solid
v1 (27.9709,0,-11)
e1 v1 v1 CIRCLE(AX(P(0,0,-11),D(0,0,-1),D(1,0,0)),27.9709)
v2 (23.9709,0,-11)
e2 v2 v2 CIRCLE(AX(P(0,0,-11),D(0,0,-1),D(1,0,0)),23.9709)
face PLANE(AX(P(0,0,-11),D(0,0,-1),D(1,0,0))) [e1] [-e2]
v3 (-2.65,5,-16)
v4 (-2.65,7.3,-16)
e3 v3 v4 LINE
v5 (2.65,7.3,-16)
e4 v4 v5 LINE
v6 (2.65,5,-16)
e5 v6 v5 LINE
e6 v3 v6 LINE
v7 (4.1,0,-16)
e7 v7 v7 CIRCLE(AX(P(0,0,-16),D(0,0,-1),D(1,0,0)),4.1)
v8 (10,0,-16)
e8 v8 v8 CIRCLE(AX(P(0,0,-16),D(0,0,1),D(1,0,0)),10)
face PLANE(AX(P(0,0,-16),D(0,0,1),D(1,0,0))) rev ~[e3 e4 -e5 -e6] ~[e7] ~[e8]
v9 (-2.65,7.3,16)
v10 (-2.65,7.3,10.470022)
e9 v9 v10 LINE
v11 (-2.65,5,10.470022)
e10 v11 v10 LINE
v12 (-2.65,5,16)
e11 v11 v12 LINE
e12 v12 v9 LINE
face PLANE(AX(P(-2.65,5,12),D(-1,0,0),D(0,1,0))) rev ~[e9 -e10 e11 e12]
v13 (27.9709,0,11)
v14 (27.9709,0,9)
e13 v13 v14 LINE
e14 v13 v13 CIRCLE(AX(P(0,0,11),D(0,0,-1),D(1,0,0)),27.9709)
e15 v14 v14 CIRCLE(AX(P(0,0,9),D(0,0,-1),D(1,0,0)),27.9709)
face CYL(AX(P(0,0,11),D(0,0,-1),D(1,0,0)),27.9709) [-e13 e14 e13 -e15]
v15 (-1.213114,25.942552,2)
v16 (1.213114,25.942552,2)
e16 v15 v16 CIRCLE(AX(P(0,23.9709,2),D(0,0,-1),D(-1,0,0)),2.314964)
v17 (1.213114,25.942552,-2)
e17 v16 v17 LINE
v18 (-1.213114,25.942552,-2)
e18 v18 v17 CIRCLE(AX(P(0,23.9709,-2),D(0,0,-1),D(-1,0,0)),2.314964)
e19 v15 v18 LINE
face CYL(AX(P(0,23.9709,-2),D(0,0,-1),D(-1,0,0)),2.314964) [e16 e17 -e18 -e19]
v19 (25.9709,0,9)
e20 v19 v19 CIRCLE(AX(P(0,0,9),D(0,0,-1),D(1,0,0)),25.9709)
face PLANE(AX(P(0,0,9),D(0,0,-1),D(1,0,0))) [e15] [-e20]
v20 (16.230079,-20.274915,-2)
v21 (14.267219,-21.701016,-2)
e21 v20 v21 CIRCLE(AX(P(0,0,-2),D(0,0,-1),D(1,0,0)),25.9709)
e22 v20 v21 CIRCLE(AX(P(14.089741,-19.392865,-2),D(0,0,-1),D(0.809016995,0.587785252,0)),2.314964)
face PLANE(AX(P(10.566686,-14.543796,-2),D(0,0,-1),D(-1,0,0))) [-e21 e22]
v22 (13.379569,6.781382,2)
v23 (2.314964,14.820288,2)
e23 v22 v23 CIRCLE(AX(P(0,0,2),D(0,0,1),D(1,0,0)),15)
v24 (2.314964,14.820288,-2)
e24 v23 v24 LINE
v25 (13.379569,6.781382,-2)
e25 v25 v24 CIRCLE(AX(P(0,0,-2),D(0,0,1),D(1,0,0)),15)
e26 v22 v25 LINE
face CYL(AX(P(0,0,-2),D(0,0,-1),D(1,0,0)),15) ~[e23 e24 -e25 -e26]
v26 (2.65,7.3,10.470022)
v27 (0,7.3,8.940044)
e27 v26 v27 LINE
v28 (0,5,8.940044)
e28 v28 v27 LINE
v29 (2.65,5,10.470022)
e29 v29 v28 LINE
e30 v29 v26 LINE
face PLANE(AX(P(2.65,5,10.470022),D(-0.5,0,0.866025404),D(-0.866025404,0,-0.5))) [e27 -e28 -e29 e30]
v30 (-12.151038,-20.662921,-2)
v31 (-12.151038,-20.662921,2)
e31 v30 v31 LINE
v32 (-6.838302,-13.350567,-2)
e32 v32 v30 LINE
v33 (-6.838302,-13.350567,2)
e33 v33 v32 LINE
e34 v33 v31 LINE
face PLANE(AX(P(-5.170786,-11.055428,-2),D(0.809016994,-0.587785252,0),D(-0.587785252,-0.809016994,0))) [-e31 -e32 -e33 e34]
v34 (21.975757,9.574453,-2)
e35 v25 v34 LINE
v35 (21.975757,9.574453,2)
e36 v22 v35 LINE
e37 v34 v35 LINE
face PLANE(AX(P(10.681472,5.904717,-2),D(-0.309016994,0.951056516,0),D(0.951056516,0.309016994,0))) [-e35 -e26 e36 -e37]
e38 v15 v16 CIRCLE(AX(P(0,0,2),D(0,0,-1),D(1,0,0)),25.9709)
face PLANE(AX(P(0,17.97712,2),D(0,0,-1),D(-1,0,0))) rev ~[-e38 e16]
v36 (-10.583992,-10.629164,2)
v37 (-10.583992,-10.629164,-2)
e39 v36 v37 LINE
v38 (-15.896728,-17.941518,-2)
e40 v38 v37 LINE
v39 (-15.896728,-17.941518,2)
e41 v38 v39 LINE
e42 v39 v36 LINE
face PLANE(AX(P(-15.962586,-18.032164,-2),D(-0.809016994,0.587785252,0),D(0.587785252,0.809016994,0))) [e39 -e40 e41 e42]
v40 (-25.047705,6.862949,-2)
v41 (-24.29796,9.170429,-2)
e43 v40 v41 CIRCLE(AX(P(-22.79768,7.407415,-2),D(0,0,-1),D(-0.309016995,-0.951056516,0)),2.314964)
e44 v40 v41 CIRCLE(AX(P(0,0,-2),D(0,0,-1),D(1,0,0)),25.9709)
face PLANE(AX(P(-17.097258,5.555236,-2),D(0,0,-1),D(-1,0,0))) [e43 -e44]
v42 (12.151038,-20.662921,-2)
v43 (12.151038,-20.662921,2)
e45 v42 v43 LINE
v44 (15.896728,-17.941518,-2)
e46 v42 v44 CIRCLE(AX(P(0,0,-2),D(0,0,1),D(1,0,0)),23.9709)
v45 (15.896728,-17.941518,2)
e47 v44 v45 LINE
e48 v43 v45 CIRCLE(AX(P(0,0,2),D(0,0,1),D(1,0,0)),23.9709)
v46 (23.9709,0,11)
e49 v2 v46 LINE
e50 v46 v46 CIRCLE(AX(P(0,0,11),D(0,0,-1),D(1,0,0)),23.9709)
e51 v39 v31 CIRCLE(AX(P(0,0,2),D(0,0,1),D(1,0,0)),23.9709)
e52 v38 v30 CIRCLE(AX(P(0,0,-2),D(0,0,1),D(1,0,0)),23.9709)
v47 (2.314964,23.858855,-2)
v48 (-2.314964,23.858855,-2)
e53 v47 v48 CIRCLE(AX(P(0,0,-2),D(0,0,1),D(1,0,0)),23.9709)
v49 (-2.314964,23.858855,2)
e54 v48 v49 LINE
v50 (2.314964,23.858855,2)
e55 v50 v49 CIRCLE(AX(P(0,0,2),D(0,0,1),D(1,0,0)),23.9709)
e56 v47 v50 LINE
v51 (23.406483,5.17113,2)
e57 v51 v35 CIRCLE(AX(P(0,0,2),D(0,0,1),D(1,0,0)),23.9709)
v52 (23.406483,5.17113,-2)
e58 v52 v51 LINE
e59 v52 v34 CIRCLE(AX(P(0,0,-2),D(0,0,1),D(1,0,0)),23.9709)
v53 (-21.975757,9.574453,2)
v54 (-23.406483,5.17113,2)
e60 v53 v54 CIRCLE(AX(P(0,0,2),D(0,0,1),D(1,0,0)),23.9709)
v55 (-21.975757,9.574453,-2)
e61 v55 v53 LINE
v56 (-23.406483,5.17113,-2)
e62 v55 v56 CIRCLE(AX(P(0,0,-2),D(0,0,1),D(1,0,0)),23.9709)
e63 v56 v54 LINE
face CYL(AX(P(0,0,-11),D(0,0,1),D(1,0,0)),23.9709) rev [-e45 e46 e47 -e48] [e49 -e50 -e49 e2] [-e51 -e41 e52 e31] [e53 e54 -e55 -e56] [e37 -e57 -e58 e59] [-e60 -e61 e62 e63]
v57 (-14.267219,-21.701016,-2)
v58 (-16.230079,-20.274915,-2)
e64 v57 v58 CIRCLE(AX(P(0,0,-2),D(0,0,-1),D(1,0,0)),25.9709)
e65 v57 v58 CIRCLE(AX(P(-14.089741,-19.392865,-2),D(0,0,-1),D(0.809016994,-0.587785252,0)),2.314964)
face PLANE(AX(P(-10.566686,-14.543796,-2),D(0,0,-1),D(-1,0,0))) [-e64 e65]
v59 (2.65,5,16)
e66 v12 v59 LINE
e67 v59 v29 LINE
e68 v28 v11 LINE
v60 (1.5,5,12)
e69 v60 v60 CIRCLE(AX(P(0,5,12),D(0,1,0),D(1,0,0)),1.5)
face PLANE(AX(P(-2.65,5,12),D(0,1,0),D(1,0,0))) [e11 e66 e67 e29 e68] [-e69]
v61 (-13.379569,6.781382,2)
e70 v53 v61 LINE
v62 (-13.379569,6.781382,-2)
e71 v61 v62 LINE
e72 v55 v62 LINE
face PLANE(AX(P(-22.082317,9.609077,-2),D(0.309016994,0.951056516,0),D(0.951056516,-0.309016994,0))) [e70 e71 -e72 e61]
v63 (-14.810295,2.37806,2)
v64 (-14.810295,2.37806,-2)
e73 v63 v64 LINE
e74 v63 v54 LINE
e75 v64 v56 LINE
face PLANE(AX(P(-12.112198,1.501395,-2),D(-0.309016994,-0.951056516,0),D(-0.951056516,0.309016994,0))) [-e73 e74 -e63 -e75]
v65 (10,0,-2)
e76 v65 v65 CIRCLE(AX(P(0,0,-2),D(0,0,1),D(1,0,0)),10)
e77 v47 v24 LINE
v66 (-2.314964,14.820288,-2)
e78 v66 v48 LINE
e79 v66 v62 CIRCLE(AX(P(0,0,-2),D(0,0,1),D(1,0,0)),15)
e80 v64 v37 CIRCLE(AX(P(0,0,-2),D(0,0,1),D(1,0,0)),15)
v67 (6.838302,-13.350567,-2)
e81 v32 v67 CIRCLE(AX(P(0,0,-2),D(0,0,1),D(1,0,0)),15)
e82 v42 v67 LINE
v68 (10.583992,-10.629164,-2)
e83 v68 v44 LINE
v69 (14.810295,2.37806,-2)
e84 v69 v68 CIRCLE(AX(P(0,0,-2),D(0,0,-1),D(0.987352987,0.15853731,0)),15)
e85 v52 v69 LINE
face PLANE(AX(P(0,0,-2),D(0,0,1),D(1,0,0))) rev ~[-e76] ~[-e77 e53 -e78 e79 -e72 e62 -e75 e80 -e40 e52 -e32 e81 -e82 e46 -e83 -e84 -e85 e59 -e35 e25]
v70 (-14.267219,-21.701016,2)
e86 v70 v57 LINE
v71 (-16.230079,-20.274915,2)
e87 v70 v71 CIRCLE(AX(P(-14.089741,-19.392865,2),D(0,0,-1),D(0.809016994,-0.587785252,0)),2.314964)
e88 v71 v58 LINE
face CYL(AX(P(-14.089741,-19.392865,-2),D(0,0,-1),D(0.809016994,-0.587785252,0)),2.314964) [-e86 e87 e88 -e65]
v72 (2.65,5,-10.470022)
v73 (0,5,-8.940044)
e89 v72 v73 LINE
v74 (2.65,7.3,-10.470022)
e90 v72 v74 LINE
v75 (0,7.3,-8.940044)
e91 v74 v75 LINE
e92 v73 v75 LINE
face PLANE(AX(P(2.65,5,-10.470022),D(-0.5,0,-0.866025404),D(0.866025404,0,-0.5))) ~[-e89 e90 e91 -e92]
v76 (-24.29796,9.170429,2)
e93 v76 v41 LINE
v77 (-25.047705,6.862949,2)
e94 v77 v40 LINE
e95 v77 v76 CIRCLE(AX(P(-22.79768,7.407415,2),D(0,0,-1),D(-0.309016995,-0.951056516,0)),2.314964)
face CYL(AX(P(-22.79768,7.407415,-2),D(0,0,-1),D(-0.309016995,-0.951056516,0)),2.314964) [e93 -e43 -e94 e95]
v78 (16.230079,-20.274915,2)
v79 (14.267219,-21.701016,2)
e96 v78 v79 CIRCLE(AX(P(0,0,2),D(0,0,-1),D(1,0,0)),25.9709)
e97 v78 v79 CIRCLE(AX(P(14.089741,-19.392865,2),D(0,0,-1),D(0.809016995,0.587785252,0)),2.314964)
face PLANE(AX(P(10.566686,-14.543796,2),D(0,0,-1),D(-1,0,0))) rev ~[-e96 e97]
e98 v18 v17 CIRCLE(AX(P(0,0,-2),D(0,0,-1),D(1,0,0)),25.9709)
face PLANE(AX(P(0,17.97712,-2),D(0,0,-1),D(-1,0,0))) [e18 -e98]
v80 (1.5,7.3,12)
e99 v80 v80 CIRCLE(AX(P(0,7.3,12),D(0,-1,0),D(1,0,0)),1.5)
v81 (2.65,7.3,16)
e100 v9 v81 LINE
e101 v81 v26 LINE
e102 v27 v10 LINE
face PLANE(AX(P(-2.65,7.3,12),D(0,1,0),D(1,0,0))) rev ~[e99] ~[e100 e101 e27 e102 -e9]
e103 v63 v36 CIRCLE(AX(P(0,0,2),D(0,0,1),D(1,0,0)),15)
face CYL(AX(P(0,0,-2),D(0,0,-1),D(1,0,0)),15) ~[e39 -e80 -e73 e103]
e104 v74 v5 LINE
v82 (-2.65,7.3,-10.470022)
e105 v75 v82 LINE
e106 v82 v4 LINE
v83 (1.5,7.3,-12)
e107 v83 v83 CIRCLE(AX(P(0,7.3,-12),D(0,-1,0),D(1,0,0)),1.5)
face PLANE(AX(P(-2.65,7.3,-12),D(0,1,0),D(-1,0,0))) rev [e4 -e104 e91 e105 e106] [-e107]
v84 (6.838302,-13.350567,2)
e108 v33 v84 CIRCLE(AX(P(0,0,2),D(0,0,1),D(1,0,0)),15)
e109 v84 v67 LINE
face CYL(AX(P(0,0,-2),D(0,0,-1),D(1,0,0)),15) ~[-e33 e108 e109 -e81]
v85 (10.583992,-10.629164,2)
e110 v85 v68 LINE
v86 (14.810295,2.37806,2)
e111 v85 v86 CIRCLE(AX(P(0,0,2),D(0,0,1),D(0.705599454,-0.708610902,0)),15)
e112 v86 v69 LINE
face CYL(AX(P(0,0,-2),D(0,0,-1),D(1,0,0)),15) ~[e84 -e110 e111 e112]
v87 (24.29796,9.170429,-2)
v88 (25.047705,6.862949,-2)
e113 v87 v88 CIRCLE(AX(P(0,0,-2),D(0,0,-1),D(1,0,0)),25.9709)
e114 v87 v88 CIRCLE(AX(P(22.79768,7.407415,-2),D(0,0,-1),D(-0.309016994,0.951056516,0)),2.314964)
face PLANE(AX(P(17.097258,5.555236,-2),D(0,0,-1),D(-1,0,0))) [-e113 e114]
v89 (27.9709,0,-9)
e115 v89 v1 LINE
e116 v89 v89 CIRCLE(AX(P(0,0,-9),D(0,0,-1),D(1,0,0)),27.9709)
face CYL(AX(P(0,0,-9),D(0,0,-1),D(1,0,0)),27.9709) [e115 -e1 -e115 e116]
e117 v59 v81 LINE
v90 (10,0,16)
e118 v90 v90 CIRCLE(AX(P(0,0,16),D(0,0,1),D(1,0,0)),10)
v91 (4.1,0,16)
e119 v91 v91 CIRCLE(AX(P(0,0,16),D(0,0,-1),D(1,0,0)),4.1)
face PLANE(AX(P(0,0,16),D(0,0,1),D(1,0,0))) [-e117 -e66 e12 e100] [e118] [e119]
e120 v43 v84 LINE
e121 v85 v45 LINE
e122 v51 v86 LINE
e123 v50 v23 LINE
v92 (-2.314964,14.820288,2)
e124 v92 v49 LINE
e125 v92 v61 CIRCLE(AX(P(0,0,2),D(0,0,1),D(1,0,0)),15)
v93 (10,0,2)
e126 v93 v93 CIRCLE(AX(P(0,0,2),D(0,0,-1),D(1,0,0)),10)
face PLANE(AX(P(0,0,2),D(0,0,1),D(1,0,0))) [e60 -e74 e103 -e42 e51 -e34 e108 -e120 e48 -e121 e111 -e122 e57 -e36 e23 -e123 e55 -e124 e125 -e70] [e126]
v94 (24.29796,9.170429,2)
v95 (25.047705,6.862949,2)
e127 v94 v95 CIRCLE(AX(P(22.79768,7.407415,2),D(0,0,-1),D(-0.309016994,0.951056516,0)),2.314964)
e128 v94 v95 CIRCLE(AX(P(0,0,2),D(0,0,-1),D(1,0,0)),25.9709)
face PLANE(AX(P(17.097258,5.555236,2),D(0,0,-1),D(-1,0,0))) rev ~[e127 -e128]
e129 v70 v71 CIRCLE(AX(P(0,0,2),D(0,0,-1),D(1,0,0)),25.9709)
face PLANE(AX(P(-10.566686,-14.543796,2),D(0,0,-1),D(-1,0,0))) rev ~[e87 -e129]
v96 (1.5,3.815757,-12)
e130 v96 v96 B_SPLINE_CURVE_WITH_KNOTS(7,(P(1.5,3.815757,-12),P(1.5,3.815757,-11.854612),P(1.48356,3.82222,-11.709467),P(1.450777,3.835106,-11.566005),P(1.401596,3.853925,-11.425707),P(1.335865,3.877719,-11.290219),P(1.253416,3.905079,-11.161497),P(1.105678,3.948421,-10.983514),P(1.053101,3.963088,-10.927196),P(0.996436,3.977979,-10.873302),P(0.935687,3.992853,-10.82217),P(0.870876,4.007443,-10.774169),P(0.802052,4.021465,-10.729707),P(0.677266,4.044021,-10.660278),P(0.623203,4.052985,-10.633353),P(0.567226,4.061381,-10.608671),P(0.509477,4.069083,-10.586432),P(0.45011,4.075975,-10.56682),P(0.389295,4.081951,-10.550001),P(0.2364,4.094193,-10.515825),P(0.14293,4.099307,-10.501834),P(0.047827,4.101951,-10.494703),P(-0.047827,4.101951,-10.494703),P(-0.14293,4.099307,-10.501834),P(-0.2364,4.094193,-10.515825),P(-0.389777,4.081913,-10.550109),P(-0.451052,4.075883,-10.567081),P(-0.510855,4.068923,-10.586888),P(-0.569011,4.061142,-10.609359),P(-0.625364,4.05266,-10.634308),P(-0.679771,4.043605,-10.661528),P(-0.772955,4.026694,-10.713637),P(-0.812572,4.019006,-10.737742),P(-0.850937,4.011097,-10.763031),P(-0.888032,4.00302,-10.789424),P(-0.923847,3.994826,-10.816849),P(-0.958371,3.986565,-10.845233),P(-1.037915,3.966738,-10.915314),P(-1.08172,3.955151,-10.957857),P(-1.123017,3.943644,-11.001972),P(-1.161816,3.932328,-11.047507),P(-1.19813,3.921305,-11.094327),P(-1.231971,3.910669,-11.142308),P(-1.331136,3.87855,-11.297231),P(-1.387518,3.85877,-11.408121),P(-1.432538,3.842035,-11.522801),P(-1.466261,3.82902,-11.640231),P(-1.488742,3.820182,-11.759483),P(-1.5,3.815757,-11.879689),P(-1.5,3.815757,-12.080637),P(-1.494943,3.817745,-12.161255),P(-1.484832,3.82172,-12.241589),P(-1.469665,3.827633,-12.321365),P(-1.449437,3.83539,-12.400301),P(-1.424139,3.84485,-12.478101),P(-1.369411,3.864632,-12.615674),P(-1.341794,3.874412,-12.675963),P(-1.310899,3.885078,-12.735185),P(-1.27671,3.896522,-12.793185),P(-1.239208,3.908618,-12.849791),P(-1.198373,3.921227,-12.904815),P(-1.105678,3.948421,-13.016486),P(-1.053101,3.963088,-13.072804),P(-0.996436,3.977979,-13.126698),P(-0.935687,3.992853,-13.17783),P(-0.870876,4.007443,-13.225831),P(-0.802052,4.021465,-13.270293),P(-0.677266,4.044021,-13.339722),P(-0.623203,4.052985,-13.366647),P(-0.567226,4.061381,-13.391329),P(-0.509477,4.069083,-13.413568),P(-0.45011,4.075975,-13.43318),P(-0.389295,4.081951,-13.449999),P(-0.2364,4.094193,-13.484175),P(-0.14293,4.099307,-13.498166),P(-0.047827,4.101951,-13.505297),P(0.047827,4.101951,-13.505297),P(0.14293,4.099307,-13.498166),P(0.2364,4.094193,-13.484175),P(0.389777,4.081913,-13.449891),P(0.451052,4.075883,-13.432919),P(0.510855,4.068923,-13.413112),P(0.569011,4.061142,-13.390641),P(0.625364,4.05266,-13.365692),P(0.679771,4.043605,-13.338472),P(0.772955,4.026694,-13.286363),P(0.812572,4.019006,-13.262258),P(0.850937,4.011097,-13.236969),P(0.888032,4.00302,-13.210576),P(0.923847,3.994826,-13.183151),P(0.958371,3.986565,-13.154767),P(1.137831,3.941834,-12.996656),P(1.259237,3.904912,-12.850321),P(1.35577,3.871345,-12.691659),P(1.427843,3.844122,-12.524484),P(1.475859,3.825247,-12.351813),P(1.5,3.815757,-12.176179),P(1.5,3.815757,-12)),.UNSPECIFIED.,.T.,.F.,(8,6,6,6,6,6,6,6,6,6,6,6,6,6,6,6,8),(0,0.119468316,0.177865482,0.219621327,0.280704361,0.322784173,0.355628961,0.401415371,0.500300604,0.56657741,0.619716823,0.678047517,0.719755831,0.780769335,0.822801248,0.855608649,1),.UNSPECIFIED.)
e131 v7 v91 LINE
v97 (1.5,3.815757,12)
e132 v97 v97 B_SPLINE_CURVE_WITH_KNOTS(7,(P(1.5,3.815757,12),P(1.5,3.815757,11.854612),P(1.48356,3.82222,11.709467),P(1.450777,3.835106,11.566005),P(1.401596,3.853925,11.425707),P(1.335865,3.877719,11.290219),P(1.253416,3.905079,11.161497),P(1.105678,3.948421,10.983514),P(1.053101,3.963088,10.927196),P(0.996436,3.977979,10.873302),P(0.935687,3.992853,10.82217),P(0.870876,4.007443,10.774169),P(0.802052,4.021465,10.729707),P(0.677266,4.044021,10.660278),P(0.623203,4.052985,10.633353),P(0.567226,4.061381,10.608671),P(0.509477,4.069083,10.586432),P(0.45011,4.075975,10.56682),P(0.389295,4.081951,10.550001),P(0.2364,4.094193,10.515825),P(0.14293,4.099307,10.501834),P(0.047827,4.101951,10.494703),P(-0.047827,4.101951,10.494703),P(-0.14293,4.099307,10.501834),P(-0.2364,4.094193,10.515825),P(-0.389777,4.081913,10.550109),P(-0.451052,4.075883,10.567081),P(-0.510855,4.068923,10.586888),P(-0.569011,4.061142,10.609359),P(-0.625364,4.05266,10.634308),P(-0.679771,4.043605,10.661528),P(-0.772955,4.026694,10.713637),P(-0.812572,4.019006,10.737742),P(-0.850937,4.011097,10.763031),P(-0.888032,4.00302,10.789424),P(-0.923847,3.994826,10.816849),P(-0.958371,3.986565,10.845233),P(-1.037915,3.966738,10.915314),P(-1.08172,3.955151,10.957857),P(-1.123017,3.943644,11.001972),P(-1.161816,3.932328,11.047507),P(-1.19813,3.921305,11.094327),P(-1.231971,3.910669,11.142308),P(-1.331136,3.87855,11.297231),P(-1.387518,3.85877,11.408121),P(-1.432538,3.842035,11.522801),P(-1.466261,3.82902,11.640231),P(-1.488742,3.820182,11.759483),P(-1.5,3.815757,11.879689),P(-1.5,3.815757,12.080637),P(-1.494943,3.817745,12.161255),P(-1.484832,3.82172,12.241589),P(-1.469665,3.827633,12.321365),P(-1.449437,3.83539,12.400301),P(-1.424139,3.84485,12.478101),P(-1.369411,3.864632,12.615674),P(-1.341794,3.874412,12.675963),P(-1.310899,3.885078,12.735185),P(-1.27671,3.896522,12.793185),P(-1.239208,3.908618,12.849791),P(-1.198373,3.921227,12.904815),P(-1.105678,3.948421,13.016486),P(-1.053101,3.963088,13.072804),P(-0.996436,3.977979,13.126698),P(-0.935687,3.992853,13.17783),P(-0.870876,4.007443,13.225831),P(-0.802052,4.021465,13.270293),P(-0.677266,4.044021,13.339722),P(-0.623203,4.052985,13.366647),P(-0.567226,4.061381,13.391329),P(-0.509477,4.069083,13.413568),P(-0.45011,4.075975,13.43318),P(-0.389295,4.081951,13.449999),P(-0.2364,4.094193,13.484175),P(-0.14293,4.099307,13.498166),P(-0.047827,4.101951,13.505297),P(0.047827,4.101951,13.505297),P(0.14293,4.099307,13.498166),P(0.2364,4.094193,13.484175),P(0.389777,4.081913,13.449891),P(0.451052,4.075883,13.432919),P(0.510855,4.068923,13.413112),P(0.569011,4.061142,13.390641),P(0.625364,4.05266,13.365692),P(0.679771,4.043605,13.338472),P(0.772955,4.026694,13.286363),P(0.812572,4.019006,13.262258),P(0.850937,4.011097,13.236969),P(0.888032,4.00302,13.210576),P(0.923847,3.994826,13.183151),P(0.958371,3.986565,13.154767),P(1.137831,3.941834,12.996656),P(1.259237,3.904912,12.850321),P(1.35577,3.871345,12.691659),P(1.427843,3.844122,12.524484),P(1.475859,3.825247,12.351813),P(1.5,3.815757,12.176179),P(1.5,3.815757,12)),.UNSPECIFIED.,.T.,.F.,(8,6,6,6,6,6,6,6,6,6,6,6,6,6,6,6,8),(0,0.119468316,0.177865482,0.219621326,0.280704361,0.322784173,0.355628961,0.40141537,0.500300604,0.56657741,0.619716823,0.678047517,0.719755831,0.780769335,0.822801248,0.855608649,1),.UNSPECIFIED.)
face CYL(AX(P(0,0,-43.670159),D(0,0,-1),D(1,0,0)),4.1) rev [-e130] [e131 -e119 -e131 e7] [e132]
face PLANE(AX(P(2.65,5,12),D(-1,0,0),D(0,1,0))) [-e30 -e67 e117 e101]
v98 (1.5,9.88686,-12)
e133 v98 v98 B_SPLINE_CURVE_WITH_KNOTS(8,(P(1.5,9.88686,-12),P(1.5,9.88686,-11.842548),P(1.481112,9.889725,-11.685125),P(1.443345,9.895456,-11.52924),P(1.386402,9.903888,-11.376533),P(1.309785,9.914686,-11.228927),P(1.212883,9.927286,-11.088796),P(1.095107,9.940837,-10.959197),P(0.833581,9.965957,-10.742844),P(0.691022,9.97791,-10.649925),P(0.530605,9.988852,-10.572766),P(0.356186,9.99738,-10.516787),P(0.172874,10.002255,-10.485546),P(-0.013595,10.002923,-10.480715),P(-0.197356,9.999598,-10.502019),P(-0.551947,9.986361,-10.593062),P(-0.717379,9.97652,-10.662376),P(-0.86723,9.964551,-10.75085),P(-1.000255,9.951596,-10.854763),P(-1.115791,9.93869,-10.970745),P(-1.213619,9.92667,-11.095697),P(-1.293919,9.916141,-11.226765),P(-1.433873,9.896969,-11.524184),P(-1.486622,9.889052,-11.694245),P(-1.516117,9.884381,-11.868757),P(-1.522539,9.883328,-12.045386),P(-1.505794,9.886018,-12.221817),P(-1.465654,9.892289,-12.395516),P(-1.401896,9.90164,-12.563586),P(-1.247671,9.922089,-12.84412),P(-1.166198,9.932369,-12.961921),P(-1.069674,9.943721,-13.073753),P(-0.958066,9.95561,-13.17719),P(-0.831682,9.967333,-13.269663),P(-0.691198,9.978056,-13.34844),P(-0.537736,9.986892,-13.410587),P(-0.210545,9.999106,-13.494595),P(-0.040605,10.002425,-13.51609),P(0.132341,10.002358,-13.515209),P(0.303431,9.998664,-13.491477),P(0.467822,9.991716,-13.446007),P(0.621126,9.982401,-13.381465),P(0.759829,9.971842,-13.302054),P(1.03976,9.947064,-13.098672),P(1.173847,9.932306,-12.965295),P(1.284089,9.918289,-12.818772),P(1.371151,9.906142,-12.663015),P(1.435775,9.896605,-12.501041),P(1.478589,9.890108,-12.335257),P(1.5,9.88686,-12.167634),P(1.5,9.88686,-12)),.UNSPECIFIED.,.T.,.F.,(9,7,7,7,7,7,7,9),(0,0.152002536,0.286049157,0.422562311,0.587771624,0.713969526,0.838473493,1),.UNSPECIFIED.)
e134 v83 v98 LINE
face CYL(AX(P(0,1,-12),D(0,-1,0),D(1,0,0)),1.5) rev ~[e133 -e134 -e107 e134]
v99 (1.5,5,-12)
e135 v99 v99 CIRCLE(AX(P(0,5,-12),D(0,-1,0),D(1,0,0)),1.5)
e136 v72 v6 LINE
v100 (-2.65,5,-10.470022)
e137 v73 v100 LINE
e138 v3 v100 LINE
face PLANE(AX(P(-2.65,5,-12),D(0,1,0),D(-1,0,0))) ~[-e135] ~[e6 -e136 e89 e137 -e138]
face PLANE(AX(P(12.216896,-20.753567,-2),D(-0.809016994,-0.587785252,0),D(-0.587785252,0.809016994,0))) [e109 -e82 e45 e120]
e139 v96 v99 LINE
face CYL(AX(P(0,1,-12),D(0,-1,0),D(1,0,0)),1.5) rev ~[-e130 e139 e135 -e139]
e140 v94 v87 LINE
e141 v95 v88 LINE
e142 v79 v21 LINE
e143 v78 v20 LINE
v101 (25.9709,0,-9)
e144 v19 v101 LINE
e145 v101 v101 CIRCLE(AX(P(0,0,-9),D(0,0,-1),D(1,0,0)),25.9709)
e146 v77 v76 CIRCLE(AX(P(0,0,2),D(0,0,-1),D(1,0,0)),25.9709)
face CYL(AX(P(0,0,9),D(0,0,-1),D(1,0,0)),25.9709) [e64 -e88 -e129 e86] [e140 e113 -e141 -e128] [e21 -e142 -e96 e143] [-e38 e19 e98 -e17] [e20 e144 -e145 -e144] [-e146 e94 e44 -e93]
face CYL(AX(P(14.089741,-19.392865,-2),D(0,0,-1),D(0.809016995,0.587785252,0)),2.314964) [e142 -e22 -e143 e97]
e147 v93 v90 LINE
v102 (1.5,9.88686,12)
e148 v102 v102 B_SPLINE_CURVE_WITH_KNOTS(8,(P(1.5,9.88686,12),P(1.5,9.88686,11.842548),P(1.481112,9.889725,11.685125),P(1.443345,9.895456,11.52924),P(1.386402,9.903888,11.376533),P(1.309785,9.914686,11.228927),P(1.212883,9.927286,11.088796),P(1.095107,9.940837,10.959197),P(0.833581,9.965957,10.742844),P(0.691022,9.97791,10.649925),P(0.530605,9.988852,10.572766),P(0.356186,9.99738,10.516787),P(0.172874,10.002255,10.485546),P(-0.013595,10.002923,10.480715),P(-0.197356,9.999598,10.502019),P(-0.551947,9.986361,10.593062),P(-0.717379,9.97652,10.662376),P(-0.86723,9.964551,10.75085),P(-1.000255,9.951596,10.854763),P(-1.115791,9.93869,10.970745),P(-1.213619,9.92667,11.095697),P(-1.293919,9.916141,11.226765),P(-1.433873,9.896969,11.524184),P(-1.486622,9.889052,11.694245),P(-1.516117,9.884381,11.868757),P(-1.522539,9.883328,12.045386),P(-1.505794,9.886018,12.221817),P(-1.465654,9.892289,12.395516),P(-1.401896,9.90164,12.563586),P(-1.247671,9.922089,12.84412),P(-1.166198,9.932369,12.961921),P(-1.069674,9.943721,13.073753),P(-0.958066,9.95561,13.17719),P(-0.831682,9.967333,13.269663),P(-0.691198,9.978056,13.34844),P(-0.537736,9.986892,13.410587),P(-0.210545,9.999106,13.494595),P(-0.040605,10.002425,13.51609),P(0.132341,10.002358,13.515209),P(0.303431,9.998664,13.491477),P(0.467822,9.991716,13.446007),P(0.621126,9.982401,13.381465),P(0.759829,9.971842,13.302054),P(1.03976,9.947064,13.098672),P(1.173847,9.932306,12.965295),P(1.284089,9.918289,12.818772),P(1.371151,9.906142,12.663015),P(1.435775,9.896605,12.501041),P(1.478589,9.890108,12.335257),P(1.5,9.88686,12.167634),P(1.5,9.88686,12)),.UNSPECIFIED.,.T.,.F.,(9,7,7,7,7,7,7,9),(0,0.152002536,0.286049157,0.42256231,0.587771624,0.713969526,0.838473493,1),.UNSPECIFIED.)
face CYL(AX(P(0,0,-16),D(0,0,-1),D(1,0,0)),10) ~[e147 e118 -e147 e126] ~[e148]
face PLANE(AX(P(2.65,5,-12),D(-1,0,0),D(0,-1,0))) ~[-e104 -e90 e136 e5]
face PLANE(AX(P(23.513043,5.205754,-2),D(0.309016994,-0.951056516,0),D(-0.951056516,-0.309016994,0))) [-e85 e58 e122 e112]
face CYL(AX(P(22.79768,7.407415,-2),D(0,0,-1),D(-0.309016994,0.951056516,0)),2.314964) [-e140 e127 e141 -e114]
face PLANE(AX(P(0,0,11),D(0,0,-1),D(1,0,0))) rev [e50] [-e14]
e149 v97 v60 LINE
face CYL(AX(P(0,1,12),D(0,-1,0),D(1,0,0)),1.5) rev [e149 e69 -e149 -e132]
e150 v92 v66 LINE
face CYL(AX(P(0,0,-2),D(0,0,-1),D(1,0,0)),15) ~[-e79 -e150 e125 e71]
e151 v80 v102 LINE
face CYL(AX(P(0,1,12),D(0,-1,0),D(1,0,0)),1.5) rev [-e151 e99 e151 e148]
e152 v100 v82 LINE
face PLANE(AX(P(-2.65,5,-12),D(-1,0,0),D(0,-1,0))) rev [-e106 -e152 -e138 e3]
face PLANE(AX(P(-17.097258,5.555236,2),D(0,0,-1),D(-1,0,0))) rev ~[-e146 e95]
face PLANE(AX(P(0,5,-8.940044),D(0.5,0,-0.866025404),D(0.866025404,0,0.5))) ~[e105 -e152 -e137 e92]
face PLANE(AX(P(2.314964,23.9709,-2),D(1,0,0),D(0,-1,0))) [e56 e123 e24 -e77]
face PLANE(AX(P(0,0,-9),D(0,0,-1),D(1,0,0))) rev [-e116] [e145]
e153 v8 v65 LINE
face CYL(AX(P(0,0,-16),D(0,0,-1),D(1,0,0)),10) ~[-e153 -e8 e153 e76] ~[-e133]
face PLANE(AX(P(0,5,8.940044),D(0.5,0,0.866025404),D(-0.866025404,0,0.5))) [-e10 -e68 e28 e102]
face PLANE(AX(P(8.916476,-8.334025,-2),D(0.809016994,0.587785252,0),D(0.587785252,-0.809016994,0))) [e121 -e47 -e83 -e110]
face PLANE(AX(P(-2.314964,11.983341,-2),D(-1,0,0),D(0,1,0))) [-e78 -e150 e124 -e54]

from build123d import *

# Parameters (mm, degrees)
BOSS_EXTRUDE1_DEPTH      = 2
BOSS_EXTRUDE1_DEPTH_BACK = 2
SKETCH3_R                = 15
BOSS_EXTRUDE2_DEPTH      = 16
BOSS_EXTRUDE2_DEPTH_BACK = 16
SKETCH6_R                = 10
CUT_EXTRUDE6_DEPTH       = 43.670158732
CUT_EXTRUDE6_DEPTH_BACK  = 43.670158732
SKETCH7_R                = 4.1
BOSS_EXTRUDE3_DEPTH      = 2
BOSS_EXTRUDE3_DEPTH_BACK = 2
SKETCH10_W               = 5.3
SKETCH10_H               = 2.3
CUT_EXTRUDE7_DEPTH       = 4
CUT_EXTRUDE8_START       = -4
SKETCH11_R               = 1.5
CUT_EXTRUDE8_DEPTH       = 10
CUT_EXTRUDE9_DEPTH       = 2.3


with BuildPart() as part:
    # Sketch2 → Revolve1 (revolve)
    with BuildSketch(Plane(origin=(0, 0, 0), x_dir=(0, 0, -1), z_dir=(1, 0, 0)), mode=Mode.PRIVATE) as revolve1_sk:
        Polygon((-9, 25.970899576), (9, 25.970899576), (9, 27.970899576), (11, 27.970899576), (11, 23.970899576), (-11, 23.970899576), (-11, 27.970899576), (-9, 27.970899576), align=None)
    revolve(revolve1_sk.sketch.rotate(Axis((0, 0, 10), (0, 0, -1)), 90), axis=Axis((0, 0, 10), (0, 0, -1)))



with BuildPart() as body_2:
    # Sketch3 → Boss-Extrude1 (new, two sides: drawn at the far end of the back side and taken through both)
    with BuildSketch(Plane.XY.offset(-BOSS_EXTRUDE1_DEPTH_BACK)):
        Circle(SKETCH3_R)
    extrude(amount=BOSS_EXTRUDE1_DEPTH + BOSS_EXTRUDE1_DEPTH_BACK)

    # Sketch6 → Boss-Extrude2 (add, two sides: drawn at the far end of the back side and taken through both)
    with BuildSketch(Plane.XY.offset(-BOSS_EXTRUDE2_DEPTH_BACK)):
        Circle(SKETCH6_R)
    extrude(amount=BOSS_EXTRUDE2_DEPTH + BOSS_EXTRUDE2_DEPTH_BACK)

    # Sketch7 → Cut-Extrude6 (cut, two sides: drawn at the far end of the back side and taken through both)
    with BuildSketch(Plane.XY.offset(-CUT_EXTRUDE6_DEPTH_BACK)):
        Circle(SKETCH7_R)
    extrude(amount=CUT_EXTRUDE6_DEPTH + CUT_EXTRUDE6_DEPTH_BACK, mode=Mode.SUBTRACT)


with BuildPart() as part_1:
    add(part.part)

    add(body_2.part)  # Boss-Extrude3 merges body 2
    # Sketch8 → Boss-Extrude3 (add, two sides: drawn at the far end of the back side and taken through both)
    with BuildSketch(Plane.XY.offset(-BOSS_EXTRUDE3_DEPTH_BACK)):
        with BuildLine():
            Line((-2.314963667, 11.983341333), (-2.314963667, 23.970899576))
            ThreePointArc((-2.314963667, 23.970899576), (0, 26.285863243), (2.314963667, 23.970899576))
            Line((2.314963667, 23.970899576), (2.314963667, 11.983341333))
            ThreePointArc((2.314963667, 11.983341333), (0, 9.668377666), (-2.314963667, 11.983341333))
        make_face()
        with BuildLine():
            Line((10.681471747, 5.904717401), (22.082317129, 9.60907662))
            ThreePointArc((22.082317129, 9.60907662), (24.999341523, 8.122778454), (23.513043358, 5.205754059))
            Line((23.513043358, 5.205754059), (12.112197976, 1.501394841))
            ThreePointArc((12.112197976, 1.501394841), (9.195173582, 2.987693007), (10.681471747, 5.904717401))
        make_face()
        with BuildLine():
            Line((8.916476256, -8.334025285), (15.962586203, -18.032163625))
            ThreePointArc((15.962586203, -18.032163625), (15.450442758, -21.265710075), (12.216896307, -20.75356663))
            Line((12.216896307, -20.75356663), (5.170786361, -11.055428291))
            ThreePointArc((5.170786361, -11.055428291), (5.682929806, -7.82188184), (8.916476256, -8.334025285))
        make_face()
        with BuildLine():
            Line((-5.170786361, -11.055428291), (-12.216896307, -20.75356663))
            ThreePointArc((-12.216896307, -20.75356663), (-15.450442758, -21.265710075), (-15.962586203, -18.032163625))
            Line((-15.962586203, -18.032163625), (-8.916476256, -8.334025285))
            ThreePointArc((-8.916476256, -8.334025285), (-5.682929806, -7.82188184), (-5.170786361, -11.055428291))
        make_face()
        with BuildLine():
            Line((-12.112197976, 1.501394841), (-23.513043358, 5.205754059))
            ThreePointArc((-23.513043358, 5.205754059), (-24.999341523, 8.122778454), (-22.082317129, 9.60907662))
            Line((-22.082317129, 9.60907662), (-10.681471747, 5.904717401))
            ThreePointArc((-10.681471747, 5.904717401), (-9.195173582, 2.987693007), (-12.112197976, 1.501394841))
        make_face()
    extrude(amount=BOSS_EXTRUDE3_DEPTH + BOSS_EXTRUDE3_DEPTH_BACK)

    # Sketch10 → Cut-Extrude7 (cut)
    with BuildSketch(Plane.XY.offset(12)):
        with Locations((0, 6.15)):
            Rectangle(SKETCH10_W, SKETCH10_H)
    cut_extrude7 = extrude(amount=CUT_EXTRUDE7_DEPTH, mode=Mode.SUBTRACT)

    # Sketch11 → Cut-Extrude8 (cut)
    with BuildSketch(Plane(origin=(0, 5, 0), x_dir=(1, 0, 0), z_dir=(0, 1, 0)).offset(CUT_EXTRUDE8_START)):
        with Locations((0, -12)):
            Circle(SKETCH11_R)
    cut_extrude8 = extrude(amount=CUT_EXTRUDE8_DEPTH, mode=Mode.SUBTRACT)

    # Sketch12 → Cut-Extrude9 (cut)
    with BuildSketch(Plane(origin=(0, 5, 0), x_dir=(1, 0, 0), z_dir=(0, 1, 0))):
        Polygon((0, -15.059956427), (2.65, -13.529978213), (2.65, -10.470021787), (0, -8.940043573), (-2.65, -10.470021787), (-2.65, -13.529978213), align=None)
    cut_extrude9 = extrude(amount=CUT_EXTRUDE9_DEPTH, mode=Mode.SUBTRACT)

    # Mirror1: Cut-Extrude7, Cut-Extrude8, Cut-Extrude9 across plane
    add(cut_extrude7.mirror(Plane.XY), mode=Mode.SUBTRACT)
    add(cut_extrude8.mirror(Plane.XY), mode=Mode.SUBTRACT)
    add(cut_extrude9.mirror(Plane.XY), mode=Mode.SUBTRACT)


solid = part_1.part
